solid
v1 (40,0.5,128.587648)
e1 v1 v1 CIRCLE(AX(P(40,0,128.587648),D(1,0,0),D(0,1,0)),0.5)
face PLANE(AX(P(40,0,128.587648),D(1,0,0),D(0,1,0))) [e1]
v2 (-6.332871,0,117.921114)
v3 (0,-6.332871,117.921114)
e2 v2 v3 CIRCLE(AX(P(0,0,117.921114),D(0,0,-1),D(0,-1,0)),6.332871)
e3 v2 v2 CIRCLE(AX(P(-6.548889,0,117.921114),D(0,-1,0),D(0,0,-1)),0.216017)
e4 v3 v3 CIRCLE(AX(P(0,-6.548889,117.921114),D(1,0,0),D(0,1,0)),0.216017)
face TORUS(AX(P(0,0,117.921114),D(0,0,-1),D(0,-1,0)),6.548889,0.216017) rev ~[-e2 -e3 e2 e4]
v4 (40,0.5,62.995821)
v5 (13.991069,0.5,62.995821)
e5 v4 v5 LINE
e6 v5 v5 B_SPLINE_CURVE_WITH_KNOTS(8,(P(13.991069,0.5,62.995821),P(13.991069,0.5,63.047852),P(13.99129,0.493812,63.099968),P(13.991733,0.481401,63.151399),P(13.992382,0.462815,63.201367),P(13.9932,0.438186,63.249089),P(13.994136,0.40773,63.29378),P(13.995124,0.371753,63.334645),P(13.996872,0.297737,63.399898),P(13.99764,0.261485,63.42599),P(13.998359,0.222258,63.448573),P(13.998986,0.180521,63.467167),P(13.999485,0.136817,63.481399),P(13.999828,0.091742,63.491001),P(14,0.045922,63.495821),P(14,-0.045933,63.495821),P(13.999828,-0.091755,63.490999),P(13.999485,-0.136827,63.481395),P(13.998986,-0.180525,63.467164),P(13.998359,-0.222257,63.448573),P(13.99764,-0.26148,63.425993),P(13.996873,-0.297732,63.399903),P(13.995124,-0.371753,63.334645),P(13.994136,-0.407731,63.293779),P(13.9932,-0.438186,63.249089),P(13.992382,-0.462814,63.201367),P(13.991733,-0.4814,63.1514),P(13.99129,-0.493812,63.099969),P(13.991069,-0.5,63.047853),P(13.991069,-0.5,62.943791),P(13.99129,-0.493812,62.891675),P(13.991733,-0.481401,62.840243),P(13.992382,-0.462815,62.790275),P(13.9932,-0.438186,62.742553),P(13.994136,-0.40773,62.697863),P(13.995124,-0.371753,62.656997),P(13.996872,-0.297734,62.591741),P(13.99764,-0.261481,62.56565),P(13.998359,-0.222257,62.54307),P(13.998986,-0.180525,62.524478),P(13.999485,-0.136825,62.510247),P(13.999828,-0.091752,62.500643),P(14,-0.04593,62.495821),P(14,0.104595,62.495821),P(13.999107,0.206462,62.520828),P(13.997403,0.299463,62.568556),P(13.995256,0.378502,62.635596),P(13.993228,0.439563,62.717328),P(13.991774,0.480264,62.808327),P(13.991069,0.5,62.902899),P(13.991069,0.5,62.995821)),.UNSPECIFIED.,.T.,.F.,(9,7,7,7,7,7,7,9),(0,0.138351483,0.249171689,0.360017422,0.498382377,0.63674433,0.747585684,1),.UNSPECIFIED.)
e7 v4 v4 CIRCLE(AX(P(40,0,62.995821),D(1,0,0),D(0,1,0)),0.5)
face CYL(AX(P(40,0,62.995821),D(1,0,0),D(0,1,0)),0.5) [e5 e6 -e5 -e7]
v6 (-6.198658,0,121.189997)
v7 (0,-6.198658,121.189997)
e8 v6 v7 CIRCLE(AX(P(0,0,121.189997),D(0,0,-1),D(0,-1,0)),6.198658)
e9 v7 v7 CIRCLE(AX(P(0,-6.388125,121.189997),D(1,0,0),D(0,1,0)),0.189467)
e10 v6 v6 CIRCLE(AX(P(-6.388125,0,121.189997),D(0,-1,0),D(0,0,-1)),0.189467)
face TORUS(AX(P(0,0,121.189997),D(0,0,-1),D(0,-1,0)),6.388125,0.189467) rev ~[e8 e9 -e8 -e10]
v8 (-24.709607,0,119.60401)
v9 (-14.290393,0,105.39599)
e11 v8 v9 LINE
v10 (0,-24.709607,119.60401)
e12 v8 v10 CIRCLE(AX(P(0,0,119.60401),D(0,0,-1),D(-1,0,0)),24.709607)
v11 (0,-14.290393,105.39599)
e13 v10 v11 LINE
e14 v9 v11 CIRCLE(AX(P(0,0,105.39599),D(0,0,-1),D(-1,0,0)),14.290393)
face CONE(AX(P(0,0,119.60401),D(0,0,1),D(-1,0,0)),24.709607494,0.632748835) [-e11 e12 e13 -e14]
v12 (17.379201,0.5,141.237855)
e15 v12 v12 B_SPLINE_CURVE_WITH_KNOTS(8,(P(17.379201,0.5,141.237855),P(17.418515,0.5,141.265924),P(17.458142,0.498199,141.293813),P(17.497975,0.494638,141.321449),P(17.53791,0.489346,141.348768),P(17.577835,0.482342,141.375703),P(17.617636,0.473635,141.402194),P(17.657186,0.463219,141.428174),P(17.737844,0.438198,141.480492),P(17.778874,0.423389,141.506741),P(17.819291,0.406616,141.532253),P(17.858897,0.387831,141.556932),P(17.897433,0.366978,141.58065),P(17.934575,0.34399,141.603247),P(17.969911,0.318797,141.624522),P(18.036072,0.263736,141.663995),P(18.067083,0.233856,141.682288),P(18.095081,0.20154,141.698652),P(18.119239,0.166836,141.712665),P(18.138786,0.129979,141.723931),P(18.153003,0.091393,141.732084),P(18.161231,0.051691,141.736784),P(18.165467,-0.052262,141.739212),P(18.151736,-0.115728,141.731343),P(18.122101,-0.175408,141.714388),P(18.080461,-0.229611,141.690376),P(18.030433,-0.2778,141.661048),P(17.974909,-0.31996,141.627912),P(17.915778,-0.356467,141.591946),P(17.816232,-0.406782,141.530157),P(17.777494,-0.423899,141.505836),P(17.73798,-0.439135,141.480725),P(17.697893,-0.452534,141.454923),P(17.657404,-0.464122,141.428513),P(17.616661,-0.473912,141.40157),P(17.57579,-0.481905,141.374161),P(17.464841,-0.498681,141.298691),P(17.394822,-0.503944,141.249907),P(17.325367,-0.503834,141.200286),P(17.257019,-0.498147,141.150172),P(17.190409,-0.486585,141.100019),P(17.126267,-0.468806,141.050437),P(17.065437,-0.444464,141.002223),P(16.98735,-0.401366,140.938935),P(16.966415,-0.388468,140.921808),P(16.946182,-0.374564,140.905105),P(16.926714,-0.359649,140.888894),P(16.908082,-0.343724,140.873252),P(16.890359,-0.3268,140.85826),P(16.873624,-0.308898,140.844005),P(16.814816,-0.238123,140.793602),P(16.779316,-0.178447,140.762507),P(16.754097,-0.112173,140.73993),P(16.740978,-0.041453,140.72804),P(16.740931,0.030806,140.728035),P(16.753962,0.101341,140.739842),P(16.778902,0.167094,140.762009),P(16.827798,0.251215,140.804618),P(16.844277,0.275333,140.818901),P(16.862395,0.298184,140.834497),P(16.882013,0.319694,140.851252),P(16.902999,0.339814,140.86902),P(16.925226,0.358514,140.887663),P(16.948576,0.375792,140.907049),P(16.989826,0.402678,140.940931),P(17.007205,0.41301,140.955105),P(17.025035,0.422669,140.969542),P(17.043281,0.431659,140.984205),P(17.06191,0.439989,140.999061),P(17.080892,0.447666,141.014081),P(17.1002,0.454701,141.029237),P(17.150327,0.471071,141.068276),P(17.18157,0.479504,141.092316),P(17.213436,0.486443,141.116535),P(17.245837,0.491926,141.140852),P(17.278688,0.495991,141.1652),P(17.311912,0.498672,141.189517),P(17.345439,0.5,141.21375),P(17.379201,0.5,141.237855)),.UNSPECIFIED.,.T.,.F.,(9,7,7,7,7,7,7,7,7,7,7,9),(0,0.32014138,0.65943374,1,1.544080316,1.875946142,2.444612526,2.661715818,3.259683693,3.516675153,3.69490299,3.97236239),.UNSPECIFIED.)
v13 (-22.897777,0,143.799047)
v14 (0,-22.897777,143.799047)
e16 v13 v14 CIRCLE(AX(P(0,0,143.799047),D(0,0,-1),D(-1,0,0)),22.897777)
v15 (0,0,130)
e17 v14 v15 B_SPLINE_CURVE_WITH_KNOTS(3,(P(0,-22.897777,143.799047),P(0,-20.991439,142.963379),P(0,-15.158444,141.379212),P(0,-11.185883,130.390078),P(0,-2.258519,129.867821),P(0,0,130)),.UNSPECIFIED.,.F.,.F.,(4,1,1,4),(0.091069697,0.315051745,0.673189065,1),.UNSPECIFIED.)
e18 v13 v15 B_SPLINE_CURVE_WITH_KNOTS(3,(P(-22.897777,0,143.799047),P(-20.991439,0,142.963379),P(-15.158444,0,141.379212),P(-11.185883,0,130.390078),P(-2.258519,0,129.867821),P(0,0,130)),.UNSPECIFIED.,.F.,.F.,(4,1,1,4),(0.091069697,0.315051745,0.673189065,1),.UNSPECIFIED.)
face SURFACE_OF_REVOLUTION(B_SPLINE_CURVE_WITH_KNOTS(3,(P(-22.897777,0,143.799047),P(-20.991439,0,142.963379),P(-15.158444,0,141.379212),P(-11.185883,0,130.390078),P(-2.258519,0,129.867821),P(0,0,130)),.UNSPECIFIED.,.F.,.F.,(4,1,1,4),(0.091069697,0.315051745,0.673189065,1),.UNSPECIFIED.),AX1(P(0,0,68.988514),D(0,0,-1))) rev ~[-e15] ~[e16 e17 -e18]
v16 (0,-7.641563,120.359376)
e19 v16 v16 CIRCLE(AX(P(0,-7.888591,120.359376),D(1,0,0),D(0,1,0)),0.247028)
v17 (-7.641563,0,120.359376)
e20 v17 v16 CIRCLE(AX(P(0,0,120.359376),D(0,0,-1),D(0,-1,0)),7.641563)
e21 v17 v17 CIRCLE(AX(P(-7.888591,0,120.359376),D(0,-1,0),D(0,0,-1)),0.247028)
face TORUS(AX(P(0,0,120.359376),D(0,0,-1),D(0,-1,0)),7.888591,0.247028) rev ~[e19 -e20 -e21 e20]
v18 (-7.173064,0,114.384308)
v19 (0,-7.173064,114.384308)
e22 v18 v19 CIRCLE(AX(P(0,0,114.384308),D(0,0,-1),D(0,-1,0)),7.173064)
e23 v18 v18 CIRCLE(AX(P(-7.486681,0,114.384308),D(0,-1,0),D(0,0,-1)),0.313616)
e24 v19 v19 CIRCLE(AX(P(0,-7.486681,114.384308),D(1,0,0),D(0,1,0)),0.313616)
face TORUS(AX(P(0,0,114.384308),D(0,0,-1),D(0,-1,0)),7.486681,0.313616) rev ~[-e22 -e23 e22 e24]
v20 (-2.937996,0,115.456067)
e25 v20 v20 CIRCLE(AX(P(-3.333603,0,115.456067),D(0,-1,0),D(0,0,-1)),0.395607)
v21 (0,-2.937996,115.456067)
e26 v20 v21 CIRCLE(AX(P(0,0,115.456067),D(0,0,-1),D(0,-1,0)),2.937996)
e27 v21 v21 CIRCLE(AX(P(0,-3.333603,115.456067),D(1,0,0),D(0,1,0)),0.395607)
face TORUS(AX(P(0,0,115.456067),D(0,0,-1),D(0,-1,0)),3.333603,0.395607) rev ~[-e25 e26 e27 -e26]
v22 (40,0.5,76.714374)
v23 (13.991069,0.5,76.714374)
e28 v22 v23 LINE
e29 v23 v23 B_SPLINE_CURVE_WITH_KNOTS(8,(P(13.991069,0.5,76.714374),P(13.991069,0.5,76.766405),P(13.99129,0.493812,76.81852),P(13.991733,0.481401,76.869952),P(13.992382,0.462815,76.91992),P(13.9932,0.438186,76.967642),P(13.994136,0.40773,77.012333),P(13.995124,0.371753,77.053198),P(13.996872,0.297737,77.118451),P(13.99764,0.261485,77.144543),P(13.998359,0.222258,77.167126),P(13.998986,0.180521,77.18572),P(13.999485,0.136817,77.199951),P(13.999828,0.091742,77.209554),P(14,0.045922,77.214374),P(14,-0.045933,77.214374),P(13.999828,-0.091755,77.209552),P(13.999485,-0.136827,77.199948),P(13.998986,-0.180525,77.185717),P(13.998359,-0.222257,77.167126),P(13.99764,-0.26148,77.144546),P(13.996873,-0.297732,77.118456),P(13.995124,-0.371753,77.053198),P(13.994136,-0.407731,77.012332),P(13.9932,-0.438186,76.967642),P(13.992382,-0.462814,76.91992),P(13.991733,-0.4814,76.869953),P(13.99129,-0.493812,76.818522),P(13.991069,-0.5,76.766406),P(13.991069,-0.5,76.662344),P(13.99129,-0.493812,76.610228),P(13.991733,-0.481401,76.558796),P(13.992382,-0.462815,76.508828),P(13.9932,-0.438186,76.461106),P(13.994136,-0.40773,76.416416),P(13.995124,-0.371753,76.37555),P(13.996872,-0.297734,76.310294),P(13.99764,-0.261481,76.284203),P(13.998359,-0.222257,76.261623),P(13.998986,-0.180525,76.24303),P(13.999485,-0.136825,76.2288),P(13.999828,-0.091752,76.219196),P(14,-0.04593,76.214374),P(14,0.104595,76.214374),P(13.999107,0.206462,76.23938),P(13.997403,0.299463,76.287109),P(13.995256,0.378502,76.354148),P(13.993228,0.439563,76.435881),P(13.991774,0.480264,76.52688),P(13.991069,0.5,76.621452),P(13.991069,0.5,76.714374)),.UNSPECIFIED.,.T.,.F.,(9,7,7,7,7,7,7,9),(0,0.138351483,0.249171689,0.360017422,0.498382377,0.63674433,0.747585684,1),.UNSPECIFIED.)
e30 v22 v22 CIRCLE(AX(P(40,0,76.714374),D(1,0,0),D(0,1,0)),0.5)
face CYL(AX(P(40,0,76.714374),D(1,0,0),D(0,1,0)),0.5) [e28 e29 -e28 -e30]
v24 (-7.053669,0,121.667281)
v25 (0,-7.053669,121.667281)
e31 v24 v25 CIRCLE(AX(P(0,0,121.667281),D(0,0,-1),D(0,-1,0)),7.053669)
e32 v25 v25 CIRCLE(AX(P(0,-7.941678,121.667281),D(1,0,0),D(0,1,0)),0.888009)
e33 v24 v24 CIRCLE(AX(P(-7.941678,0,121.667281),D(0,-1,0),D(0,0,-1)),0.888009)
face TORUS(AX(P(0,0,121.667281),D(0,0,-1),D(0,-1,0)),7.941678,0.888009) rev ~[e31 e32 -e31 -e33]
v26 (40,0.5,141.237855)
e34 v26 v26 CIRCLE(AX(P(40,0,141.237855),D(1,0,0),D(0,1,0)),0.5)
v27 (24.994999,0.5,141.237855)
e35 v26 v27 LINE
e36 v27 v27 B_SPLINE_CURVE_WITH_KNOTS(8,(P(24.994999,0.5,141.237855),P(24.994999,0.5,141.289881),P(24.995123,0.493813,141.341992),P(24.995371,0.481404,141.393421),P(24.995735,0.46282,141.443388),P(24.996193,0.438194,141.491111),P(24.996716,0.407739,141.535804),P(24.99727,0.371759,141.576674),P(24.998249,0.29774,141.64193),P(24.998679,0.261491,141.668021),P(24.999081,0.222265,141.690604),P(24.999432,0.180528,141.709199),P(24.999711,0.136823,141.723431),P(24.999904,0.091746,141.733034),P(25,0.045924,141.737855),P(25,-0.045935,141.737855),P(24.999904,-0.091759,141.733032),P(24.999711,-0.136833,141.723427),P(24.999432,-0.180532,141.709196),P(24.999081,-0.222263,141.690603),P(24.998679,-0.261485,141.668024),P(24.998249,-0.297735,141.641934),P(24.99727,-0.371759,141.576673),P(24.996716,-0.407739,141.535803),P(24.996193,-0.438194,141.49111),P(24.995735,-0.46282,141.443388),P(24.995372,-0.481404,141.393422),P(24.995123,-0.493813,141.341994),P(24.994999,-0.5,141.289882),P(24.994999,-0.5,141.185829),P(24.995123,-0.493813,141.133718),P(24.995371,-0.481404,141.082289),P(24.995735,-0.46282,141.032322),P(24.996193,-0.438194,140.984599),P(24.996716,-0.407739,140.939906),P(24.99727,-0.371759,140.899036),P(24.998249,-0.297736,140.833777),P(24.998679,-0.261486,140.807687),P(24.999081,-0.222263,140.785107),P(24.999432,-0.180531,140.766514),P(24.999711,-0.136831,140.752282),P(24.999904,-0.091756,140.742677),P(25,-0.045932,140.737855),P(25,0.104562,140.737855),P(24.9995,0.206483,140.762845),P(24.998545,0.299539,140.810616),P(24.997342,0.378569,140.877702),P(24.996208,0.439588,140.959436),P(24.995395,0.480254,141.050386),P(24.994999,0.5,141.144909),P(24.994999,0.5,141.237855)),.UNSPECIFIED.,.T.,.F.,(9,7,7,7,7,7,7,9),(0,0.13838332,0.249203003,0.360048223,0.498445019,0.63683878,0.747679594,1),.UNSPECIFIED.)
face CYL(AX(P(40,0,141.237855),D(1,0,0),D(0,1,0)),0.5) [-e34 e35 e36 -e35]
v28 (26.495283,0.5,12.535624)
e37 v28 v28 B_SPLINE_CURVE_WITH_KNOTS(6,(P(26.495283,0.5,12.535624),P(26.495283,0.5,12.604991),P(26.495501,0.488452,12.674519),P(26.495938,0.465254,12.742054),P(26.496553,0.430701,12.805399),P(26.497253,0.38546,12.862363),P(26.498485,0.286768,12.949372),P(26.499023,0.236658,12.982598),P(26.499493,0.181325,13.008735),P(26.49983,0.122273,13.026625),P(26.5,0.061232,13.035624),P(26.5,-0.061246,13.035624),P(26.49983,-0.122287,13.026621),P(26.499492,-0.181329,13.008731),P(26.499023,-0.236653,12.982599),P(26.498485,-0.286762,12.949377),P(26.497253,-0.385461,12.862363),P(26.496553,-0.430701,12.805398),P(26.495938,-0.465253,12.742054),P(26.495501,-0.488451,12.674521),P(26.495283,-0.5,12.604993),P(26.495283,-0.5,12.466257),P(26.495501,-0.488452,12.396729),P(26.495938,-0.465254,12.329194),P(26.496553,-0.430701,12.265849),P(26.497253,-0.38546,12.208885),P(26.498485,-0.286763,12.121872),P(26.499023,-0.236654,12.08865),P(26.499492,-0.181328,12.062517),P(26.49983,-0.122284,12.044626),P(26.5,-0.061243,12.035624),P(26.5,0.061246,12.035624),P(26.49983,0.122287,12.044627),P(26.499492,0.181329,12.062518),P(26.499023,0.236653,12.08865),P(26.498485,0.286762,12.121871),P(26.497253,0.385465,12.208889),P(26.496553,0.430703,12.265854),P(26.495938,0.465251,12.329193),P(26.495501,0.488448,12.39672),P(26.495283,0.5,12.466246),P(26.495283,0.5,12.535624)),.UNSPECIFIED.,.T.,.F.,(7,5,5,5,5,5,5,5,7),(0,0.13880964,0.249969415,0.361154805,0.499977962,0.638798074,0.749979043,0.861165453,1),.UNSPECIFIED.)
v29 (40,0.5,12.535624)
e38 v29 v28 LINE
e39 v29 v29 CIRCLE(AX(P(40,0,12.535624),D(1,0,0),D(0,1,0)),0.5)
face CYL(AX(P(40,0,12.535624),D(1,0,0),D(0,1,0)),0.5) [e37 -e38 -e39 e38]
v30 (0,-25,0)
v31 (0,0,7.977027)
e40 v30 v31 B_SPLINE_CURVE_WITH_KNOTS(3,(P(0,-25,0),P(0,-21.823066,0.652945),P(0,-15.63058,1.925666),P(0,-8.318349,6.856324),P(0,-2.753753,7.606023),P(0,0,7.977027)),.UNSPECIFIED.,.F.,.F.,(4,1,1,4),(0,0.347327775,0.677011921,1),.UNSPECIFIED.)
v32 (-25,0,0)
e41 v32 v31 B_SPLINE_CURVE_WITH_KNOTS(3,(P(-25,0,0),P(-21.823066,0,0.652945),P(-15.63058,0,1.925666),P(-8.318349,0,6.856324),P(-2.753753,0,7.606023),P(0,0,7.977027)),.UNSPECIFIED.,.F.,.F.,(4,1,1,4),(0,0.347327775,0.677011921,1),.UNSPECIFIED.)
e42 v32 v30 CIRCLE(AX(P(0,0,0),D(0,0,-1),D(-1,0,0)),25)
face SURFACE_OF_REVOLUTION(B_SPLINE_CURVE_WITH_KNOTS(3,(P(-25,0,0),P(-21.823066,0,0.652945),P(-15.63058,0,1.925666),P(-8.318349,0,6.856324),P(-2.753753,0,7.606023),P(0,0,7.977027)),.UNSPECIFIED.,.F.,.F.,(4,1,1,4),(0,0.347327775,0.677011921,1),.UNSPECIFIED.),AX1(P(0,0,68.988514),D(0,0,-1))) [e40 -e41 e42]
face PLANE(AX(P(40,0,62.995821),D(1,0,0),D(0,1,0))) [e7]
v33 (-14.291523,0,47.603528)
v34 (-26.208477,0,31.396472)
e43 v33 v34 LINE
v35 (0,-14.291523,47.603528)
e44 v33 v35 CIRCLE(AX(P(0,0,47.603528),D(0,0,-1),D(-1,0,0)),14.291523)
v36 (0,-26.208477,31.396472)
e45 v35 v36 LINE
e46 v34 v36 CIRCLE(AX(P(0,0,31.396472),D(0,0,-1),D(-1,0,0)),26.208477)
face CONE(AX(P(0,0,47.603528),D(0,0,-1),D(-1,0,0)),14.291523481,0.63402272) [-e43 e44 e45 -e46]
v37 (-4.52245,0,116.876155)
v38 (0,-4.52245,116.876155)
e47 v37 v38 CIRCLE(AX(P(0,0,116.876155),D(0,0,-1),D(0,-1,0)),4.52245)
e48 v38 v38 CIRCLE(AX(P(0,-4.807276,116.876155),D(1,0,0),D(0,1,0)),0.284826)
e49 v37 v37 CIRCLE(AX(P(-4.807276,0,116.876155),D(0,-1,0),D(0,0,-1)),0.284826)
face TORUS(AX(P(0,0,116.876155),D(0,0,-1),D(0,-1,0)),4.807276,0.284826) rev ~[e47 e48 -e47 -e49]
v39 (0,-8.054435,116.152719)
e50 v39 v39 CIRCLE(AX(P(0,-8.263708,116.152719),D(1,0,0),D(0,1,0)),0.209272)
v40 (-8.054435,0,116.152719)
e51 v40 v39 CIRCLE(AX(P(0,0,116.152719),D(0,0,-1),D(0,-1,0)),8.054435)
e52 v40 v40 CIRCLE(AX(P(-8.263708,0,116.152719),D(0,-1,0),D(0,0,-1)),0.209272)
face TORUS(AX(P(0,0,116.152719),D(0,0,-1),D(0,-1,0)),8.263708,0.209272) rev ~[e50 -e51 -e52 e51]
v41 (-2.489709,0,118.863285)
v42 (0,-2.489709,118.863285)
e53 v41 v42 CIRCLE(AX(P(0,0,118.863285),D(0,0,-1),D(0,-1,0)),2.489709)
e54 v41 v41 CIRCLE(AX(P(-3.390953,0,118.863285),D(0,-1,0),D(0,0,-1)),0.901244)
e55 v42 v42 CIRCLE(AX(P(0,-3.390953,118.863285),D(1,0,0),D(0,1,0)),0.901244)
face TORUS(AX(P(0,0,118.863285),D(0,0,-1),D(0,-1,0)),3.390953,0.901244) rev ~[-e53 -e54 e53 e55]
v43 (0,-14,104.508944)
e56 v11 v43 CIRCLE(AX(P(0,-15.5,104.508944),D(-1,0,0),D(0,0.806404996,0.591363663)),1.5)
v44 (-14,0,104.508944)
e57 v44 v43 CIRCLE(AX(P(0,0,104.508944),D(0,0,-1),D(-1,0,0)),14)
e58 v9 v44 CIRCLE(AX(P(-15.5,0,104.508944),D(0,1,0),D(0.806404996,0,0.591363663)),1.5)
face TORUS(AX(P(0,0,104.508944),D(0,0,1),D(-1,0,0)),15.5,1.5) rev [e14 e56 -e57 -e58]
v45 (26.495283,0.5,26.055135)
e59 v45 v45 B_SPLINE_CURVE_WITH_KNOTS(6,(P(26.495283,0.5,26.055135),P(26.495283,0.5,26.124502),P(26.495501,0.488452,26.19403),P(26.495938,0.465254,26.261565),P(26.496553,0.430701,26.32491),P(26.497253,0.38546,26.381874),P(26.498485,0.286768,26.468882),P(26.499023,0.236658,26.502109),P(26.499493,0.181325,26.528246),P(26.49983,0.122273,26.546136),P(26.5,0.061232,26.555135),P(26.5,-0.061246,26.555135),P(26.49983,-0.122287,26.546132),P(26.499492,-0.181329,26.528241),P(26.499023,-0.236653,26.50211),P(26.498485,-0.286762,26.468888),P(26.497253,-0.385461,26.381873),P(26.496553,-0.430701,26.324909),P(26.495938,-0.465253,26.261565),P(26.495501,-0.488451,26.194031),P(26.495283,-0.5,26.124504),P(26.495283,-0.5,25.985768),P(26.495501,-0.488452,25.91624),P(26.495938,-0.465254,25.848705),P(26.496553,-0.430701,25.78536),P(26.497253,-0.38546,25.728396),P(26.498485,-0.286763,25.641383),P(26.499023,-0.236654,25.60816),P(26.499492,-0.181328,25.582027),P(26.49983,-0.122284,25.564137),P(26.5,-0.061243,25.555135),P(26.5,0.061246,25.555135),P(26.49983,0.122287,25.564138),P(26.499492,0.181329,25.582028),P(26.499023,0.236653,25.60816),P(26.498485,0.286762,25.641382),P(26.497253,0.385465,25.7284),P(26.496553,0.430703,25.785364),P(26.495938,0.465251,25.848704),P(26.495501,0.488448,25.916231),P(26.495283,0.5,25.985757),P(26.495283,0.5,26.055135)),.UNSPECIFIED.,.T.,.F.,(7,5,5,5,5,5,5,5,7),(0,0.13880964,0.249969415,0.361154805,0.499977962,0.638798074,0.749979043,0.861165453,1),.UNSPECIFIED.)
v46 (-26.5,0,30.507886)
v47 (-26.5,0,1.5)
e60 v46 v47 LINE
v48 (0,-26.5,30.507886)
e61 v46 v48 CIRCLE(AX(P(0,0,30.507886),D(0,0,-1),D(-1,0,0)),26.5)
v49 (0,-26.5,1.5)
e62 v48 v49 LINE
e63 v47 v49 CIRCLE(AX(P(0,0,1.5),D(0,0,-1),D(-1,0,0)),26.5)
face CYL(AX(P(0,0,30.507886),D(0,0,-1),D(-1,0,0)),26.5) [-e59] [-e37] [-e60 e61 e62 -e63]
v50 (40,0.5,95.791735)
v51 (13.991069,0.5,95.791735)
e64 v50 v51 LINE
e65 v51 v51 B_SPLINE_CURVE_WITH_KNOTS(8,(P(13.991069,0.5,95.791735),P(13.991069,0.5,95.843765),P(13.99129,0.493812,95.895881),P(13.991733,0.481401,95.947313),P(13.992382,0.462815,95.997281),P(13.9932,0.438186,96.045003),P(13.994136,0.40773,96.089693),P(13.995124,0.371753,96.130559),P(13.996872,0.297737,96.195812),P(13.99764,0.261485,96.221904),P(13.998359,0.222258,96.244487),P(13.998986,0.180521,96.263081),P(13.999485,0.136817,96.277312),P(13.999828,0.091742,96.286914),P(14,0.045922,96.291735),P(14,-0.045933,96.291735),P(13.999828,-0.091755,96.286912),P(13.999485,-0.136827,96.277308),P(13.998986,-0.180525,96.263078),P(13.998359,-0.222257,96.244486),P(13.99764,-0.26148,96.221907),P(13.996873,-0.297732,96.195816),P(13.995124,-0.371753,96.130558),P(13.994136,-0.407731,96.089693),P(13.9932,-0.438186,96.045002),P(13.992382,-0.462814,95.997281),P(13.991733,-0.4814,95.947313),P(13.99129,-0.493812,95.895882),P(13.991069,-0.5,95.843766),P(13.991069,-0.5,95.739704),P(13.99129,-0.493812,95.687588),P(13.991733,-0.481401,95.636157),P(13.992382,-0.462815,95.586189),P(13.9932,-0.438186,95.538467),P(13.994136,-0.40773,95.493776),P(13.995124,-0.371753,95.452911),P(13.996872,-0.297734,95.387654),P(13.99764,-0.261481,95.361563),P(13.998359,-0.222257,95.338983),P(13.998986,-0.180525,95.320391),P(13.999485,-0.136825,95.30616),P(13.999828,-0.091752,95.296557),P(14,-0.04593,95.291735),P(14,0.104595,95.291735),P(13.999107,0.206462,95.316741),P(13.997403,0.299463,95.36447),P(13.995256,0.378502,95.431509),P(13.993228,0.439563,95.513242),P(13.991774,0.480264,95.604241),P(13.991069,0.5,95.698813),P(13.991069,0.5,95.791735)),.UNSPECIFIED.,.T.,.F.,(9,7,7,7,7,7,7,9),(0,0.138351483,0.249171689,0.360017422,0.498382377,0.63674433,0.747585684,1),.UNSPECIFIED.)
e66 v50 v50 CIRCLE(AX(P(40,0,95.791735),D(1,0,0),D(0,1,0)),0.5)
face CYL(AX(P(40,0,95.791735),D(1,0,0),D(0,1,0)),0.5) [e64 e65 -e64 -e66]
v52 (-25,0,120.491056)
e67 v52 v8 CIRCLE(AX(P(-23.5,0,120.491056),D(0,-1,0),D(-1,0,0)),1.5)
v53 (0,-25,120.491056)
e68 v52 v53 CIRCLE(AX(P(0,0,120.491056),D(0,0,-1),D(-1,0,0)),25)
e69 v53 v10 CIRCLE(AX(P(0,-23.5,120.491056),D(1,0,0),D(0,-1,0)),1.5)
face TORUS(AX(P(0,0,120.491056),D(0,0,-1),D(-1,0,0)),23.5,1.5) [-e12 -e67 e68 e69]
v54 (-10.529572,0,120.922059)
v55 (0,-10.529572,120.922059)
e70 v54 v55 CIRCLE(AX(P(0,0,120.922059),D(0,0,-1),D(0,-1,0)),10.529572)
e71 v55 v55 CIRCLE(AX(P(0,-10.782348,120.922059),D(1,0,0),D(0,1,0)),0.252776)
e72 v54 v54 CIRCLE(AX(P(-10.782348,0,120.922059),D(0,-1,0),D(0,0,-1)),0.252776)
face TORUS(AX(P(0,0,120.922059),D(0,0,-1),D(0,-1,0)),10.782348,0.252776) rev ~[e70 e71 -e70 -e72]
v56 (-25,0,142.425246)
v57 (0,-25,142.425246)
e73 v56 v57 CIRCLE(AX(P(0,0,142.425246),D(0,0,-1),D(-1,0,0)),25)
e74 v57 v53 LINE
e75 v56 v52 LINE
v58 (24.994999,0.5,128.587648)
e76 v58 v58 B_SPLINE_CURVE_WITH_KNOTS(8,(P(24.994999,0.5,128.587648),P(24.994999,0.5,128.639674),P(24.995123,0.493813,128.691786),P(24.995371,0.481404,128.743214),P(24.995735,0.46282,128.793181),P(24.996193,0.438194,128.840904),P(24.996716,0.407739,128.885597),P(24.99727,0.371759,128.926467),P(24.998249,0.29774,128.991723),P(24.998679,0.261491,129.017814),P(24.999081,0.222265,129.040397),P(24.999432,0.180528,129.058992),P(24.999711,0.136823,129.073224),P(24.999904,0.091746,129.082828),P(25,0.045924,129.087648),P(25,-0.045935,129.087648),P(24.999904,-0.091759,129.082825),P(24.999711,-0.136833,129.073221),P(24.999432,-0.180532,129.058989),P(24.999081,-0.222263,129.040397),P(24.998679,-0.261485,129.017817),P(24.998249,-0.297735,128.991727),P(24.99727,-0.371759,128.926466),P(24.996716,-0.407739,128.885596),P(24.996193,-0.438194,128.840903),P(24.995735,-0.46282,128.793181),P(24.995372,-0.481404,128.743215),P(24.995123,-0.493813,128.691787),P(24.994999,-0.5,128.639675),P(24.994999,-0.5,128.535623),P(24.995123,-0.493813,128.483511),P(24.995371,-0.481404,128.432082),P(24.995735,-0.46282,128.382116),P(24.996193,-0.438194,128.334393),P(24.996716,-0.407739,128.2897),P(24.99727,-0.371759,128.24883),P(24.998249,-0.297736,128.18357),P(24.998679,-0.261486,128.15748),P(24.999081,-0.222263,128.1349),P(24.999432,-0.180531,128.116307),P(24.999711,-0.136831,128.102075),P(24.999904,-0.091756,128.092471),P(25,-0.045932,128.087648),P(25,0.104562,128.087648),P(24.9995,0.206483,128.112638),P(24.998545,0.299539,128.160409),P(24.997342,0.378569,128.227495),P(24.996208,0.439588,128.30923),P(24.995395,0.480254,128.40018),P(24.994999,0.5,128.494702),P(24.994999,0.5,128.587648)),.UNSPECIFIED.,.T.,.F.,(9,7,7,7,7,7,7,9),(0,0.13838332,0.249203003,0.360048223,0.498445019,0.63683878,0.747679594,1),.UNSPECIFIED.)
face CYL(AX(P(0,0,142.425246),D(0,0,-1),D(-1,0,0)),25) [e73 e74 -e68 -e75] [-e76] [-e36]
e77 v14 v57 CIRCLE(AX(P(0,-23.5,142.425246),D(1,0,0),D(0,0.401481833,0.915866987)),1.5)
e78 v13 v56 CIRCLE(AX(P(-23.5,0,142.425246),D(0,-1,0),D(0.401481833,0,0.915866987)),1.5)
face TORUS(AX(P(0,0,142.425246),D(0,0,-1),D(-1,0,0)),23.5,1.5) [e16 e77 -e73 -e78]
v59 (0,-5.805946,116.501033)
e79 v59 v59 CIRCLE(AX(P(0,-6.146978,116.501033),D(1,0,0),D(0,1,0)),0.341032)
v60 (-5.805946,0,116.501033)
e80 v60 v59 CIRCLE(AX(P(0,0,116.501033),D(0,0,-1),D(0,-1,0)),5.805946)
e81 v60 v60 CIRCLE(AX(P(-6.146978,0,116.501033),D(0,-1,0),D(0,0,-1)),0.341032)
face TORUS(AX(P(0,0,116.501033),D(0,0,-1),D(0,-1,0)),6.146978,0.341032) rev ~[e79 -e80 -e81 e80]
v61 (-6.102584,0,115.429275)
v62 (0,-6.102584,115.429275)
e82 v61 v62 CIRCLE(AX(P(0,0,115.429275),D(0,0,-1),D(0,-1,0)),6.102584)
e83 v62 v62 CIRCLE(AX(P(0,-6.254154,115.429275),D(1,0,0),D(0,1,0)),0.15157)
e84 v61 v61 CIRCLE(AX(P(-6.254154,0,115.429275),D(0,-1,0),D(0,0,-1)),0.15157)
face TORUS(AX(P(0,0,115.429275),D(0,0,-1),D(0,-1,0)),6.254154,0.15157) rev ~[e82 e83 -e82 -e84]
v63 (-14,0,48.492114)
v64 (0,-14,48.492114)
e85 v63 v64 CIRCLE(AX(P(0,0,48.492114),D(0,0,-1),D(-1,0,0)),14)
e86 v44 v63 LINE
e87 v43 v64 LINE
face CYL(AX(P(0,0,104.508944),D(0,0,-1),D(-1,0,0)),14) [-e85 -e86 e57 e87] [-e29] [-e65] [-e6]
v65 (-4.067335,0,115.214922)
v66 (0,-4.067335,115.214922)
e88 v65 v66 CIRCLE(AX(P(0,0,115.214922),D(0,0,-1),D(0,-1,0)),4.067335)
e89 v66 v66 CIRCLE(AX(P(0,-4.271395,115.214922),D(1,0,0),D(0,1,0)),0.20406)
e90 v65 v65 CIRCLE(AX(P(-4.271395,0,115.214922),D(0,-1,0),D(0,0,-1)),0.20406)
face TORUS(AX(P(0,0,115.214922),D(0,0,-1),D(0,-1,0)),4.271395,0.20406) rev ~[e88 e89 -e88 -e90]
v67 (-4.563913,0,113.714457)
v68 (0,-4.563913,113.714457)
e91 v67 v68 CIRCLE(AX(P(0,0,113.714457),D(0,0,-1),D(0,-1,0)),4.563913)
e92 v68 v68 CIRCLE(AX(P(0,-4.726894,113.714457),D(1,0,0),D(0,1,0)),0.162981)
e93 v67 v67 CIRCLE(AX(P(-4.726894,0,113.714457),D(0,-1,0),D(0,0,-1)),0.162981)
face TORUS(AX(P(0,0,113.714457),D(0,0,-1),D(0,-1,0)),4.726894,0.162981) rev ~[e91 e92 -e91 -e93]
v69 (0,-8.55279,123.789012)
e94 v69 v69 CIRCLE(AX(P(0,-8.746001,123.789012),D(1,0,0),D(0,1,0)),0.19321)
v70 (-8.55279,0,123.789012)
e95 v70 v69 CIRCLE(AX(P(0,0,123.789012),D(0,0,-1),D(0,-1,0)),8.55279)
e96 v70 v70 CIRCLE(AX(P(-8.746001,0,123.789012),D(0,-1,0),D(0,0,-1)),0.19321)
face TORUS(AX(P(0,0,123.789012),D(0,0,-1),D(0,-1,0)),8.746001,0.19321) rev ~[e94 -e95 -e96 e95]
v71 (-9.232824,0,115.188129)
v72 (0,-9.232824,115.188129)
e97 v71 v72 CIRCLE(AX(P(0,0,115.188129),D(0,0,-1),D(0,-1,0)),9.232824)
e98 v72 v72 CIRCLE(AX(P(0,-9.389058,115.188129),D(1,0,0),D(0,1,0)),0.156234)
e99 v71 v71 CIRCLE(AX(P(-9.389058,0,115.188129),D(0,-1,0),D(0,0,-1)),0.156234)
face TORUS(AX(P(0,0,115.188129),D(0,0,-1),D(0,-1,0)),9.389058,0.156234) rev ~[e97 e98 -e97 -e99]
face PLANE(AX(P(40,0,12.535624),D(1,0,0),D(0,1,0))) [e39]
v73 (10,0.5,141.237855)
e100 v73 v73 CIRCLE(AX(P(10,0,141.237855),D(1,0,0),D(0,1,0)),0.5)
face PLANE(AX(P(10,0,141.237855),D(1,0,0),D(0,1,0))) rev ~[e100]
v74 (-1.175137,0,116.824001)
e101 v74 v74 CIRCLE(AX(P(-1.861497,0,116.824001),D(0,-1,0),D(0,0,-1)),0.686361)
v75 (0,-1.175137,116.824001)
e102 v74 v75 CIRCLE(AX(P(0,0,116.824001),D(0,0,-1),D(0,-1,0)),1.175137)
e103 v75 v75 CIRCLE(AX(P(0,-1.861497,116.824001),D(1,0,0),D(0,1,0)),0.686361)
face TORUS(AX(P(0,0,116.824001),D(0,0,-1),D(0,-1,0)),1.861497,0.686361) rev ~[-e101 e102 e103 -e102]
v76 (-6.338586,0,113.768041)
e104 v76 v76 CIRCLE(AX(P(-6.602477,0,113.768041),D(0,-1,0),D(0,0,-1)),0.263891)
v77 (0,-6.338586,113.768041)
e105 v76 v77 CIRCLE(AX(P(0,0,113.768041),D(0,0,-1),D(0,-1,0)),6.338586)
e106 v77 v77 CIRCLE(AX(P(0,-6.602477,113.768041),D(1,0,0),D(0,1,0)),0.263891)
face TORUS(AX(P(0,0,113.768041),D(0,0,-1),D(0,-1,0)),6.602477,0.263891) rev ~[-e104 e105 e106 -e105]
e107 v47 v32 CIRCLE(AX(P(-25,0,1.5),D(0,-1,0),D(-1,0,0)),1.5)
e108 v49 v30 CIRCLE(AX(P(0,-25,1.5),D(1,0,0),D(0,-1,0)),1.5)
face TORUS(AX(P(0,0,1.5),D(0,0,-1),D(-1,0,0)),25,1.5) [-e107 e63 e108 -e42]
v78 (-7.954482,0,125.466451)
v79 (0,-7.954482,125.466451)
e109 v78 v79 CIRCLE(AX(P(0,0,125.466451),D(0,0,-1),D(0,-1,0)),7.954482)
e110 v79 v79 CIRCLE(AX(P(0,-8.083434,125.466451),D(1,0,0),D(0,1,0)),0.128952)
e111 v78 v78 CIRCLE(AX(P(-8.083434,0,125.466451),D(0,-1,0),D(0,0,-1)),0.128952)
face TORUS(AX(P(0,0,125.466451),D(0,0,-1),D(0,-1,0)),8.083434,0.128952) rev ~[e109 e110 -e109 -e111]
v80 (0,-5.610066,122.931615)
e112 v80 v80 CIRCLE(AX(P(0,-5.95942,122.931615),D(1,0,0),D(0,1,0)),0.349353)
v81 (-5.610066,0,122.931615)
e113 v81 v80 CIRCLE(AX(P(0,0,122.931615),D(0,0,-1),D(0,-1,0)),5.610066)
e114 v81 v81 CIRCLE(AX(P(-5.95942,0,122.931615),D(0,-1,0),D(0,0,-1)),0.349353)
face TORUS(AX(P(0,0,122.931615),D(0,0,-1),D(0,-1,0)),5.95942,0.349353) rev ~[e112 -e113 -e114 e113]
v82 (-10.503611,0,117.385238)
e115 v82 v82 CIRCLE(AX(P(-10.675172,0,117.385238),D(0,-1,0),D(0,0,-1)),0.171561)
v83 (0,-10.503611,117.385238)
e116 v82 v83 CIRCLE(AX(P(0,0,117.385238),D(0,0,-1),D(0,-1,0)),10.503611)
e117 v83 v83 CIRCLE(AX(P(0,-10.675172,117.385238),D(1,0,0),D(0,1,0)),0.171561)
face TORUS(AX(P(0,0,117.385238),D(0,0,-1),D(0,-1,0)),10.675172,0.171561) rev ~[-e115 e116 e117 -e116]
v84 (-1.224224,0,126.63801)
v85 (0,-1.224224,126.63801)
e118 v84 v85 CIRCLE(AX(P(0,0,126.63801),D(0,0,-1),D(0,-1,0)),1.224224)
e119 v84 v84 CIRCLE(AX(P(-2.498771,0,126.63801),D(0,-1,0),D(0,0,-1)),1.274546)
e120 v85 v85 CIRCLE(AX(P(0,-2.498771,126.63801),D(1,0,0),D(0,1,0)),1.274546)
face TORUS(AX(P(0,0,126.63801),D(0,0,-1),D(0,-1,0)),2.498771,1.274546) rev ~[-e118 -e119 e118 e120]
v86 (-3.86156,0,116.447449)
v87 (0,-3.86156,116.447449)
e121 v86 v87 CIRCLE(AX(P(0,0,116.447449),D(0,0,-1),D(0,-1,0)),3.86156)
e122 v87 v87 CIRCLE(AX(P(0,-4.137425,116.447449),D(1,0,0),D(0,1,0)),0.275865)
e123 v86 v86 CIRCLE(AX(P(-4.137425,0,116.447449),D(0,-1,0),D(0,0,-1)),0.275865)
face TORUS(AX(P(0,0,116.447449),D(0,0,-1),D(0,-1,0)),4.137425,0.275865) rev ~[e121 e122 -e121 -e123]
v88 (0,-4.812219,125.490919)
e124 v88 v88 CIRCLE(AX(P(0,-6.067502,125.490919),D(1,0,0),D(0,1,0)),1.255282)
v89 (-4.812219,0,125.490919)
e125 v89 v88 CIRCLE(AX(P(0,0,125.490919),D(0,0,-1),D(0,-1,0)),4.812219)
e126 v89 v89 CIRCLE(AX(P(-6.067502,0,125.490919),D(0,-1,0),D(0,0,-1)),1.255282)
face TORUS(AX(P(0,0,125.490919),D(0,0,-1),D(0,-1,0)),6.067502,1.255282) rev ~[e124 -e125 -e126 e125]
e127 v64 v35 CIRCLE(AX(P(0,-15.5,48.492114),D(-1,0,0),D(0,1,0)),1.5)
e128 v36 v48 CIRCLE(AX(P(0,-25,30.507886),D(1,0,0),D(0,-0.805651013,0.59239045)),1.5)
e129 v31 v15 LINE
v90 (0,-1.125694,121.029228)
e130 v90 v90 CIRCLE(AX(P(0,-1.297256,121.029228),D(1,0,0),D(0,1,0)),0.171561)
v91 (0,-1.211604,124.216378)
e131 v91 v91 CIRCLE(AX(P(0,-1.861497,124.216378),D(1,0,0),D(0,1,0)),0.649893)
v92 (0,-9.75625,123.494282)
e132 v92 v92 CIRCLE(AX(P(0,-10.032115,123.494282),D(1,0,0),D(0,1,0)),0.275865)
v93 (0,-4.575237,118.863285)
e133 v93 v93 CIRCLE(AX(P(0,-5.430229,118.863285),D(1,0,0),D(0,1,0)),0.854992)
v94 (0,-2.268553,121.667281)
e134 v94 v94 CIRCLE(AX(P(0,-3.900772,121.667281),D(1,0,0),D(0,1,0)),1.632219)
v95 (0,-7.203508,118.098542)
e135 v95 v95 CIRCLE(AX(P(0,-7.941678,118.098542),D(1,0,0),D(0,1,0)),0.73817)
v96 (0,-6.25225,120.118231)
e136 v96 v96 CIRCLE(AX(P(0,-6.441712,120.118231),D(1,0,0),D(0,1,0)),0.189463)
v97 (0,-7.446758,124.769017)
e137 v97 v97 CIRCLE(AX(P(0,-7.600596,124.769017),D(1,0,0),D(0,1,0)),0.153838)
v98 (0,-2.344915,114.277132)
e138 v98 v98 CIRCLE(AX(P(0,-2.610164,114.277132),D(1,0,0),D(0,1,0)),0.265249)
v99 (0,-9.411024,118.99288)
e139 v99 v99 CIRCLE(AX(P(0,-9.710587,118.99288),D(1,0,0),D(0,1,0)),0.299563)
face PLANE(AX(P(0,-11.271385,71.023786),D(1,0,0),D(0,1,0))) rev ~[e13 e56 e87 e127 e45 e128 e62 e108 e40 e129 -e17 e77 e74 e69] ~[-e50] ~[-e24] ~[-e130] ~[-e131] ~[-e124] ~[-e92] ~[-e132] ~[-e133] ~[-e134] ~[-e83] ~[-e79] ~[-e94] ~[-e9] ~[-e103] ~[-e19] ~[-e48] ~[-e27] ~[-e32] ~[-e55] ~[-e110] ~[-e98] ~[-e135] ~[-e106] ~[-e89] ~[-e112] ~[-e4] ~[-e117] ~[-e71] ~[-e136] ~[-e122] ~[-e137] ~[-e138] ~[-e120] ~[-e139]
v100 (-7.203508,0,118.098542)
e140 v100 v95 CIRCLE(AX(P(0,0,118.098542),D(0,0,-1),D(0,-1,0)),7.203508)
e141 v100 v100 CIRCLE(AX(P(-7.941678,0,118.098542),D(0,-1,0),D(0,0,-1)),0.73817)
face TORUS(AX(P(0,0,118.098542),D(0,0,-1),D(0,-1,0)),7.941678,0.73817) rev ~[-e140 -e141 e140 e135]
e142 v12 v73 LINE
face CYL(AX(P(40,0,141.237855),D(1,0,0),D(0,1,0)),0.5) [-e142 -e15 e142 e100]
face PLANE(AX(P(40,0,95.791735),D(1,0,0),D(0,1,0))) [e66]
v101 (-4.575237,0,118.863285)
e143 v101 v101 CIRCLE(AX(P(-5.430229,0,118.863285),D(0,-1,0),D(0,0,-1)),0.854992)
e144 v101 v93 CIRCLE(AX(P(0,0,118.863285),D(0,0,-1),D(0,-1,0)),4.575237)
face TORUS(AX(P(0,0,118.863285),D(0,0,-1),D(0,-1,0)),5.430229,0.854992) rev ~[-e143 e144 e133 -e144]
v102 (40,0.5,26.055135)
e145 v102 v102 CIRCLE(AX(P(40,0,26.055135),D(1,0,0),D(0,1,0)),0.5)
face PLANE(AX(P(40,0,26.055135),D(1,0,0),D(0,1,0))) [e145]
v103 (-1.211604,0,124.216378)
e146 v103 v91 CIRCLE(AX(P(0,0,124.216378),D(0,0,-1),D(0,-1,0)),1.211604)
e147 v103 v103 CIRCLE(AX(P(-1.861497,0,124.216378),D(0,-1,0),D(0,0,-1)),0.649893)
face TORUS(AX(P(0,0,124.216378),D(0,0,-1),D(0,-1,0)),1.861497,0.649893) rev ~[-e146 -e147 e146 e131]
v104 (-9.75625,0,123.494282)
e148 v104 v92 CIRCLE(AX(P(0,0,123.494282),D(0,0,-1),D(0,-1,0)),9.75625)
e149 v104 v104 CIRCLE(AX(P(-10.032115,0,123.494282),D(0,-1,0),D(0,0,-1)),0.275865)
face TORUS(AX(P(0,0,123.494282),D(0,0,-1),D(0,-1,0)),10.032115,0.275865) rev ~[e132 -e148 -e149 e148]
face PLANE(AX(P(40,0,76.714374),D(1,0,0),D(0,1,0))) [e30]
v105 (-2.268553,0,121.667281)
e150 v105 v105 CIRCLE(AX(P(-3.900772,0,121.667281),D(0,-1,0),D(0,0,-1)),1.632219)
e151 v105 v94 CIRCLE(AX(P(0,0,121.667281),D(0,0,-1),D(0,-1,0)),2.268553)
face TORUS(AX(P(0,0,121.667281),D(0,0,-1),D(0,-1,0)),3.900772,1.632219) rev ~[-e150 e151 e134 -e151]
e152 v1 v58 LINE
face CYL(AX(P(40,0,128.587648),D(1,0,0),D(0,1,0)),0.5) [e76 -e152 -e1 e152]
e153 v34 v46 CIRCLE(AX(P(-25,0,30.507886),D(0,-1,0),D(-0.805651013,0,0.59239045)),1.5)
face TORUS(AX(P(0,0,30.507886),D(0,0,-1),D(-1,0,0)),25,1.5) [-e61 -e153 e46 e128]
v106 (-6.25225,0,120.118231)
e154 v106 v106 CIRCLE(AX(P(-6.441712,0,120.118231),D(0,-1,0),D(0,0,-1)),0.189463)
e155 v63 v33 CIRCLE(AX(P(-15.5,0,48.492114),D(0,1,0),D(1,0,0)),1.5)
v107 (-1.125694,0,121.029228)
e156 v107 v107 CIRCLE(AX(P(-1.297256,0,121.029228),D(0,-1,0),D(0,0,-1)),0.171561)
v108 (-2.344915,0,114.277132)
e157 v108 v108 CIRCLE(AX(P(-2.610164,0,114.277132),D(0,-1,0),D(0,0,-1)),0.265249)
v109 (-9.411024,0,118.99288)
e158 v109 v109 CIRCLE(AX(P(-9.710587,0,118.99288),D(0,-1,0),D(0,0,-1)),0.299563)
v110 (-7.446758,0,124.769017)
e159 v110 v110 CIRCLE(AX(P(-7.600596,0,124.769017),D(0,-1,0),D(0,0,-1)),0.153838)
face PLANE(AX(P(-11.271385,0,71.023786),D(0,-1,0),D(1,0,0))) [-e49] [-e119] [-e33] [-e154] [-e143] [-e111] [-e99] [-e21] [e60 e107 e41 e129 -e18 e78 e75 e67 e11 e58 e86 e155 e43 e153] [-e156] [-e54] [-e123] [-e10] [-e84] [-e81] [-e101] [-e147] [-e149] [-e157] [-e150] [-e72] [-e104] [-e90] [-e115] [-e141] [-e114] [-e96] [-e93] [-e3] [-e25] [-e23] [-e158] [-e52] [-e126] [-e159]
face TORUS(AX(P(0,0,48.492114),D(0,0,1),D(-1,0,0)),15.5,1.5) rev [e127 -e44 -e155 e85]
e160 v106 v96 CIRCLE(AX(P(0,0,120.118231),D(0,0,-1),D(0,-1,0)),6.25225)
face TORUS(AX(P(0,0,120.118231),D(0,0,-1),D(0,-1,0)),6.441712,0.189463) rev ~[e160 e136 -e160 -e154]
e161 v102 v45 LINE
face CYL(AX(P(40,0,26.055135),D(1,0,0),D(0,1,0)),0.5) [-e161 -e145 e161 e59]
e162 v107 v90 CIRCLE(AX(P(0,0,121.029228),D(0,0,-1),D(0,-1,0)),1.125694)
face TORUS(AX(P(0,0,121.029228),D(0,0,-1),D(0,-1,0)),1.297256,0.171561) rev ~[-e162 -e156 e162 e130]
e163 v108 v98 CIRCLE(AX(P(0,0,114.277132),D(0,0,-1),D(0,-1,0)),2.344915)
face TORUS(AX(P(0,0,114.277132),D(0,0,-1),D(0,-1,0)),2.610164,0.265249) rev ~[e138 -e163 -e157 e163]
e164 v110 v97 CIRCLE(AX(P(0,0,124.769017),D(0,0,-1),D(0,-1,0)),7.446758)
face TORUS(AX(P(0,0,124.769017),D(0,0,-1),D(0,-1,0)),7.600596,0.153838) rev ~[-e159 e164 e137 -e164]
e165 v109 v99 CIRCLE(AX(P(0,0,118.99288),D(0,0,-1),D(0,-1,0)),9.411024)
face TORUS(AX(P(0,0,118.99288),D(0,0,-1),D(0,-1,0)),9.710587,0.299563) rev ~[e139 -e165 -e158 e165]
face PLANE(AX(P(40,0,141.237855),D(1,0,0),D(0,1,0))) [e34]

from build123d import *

# Parameters (mm, degrees)
F1_ANGLE = 270
F2_R     = 1.2745464221
F2_R_2   = 1.2552824714
F2_R_3   = 1.6322190303
F2_R_4   = 0.8880093631
F2_R_5   = 0.7381695648
F2_R_6   = 0.9012440071
F2_R_7   = 0.8549916488
F2_R_8   = 0.6863607266
F2_R_9   = 0.6498929306
F2_R_10  = 0.2758645629
F2_R_11  = 0.2848262521
F2_R_12  = 0.3956072165
F2_R_13  = 0.1715613473
F2_R_14  = 0.3493530521
F2_R_15  = 0.1932104592
F2_R_16  = 0.25277551
F2_R_17  = 0.2470281442
F2_R_18  = 0.189466877
F2_R_19  = 0.1894625306
F2_R_20  = 0.2160172465
F2_R_21  = 0.3410318833
F2_R_22  = 0.2092722247
F2_R_23  = 0.1515702747
F2_R_24  = 0.2040596992
F2_R_25  = 0.2652492155
F2_R_26  = 0.1629812297
F2_R_27  = 0.2638909269
F2_R_28  = 0.3136161778
F2_R_29  = 0.1562338053
F2_R_30  = 0.1715608928
F2_R_31  = 0.2995627114
F2_R_32  = 0.1289519235
F2_R_33  = 0.1538380187
F5_R     = 0.5
F6_DEPTH = 30


with BuildPart() as f1:
    # F0 (on Front) → F1 (revolve)
    with BuildSketch(Plane.XZ):
        with BuildLine():
            Line((-26.5, 30.5078862585), (-26.5, 1.5))
            ThreePointArc((-26.5, 1.5), (-26.0606601718, 0.4393398282), (-25, 0))
            add(Edge.make_bspline(
                [(-25, 0), (-21.8230657675, 0.652944704), (-15.6305798646, 1.925665692), (-8.3183493159, 6.856323911), (-2.7537531786, 7.6060234397), (0, 7.977027446)],
                knots=[0, 0, 0, 0, 0.3473277747, 0.6770119213, 1, 1, 1, 1], degree=3))
            Line((0, 7.977027446), (0, 130))
            add(Edge.make_bspline(
                [(-22.8977772498, 143.7990468747), (-20.9914386602, 142.9633793343), (-15.1584438549, 141.379212354), (-11.1858827412, 130.3900782292), (-2.2585186695, 129.8678209624), (0, 130)],
                knots=[0.0910696974, 0.0910696974, 0.0910696974, 0.0910696974, 0.3150517448, 0.6731890645, 1, 1, 1, 1], degree=3))
            ThreePointArc((-22.8977772498, 143.7990468747), (-24.3205686671, 143.6809004324), (-25, 142.4252463946))
            Line((-25, 142.4252463946), (-25, 120.4910557142))
            ThreePointArc((-25, 120.4910557142), (-24.9255544957, 120.0243712602), (-24.7096074938, 119.6040102188))
            Line((-24.7096074938, 119.6040102188), (-14.2903925062, 105.3959897812))
            ThreePointArc((-14.2903925062, 105.3959897812), (-14.0744455043, 104.9756287398), (-14, 104.5089442858))
            Line((-14, 104.5089442858), (-14, 48.4921137415))
            ThreePointArc((-14, 48.4921137415), (-14.0747430445, 48.0245213862), (-14.291523481, 47.6035280658))
            Line((-14.291523481, 47.6035280658), (-26.208476519, 31.3964719342))
            ThreePointArc((-26.208476519, 31.3964719342), (-26.4252569555, 30.9754786138), (-26.5, 30.5078862585))
        make_face()
    revolve(axis=Axis((0, 0, 68.988513723), (0, 0, -1)), revolution_arc=F1_ANGLE)

    # F2 (on Right) → F3 (revolve, cut)
    with BuildSketch(Plane.YZ):
        with Locations((-2.4987708312, 126.6380101442)):
            Circle(F2_R)
        with Locations((-6.0675018467, 125.4909187555)):
            Circle(F2_R_2)
        with Locations((-3.9007721934, 121.6672807932)):
            Circle(F2_R_3)
        with Locations((-7.941677998, 121.6672807932)):
            Circle(F2_R_4)
        with Locations((-7.941677998, 118.0985420942)):
            Circle(F2_R_5)
        with Locations((-3.3909534104, 118.8632845879)):
            Circle(F2_R_6)
        with Locations((-5.4302285425, 118.8632845879)):
            Circle(F2_R_7)
        with Locations((-1.8614974106, 116.8240010738)):
            Circle(F2_R_8)
        with Locations((-1.8614974106, 124.2163777351)):
            Circle(F2_R_9)
        with Locations((-4.1374247521, 116.4474487305)):
            Circle(F2_R_10)
        with Locations((-4.8072761856, 116.876155138)):
            Circle(F2_R_11)
        with Locations((-3.3336030319, 115.4560670257)):
            Circle(F2_R_12)
        with Locations((-1.2972556287, 121.029227972)):
            Circle(F2_R_13)
        with Locations((-5.9594195336, 122.9316145182)):
            Circle(F2_R_14)
        with Locations((-8.7460009381, 123.7890124321)):
            Circle(F2_R_15)
        with Locations((-10.7823479921, 120.9220588207)):
            Circle(F2_R_16)
        with Locations((-7.888590917, 120.3593760729)):
            Circle(F2_R_17)
        with Locations((-6.3881245442, 121.1899966002)):
            Circle(F2_R_18)
        with Locations((-6.4417123795, 120.1182305813)):
            Circle(F2_R_19)
        with Locations((-6.5488885157, 117.9211139679)):
            Circle(F2_R_20)
        with Locations((-6.1469781213, 116.5010333061)):
            Circle(F2_R_21)
        with Locations((-8.2637076266, 116.1527186632)):
            Circle(F2_R_22)
        with Locations((-6.2541542575, 115.4292747378)):
            Circle(F2_R_23)
        with Locations((-4.2713950388, 115.2149215341)):
            Circle(F2_R_24)
        with Locations((-2.610163996, 114.2771318555)):
            Circle(F2_R_25)
        with Locations((-4.7268937342, 113.7144565582)):
            Circle(F2_R_26)
        with Locations((-6.6024768166, 113.7680411339)):
            Circle(F2_R_27)
        with Locations((-7.4866805226, 114.3843084574)):
            Circle(F2_R_28)
        with Locations((-9.3890577555, 115.1881292462)):
            Circle(F2_R_29)
        with Locations((-10.6751723215, 117.385238409)):
            Circle(F2_R_30)
        with Locations((-9.7105866298, 118.9928799868)):
            Circle(F2_R_31)
        with Locations((-10.0321145728, 123.4942823648)):
            Circle(F2_R_10)
        with Locations((-8.0834338441, 125.4664510489)):
            Circle(F2_R_32)
        with Locations((-7.6005961746, 124.7690171003)):
            Circle(F2_R_33)
    revolve(axis=Axis((0, 0, 68.988513723), (0, 0, -1)), mode=Mode.SUBTRACT)

    # F5 (on offset) → F6 (join)
    with BuildSketch(Plane.YZ.offset(40)):
        with Locations((0, 12.5356242061)):
            Circle(F5_R)
        with Locations((0, 62.9958212376)):
            Circle(F5_R)
        with Locations((0, 76.714374125)):
            Circle(F5_R)
        with Locations((0, 95.791734755)):
            Circle(F5_R)
        with Locations((0, 128.5876482725)):
            Circle(F5_R)
        with Locations((0, 141.2378549576)):
            Circle(F5_R)
        with Locations((0, 26.0551348329)):
            Circle(F5_R)
    extrude(amount=-F6_DEPTH)


solid = f1.part
